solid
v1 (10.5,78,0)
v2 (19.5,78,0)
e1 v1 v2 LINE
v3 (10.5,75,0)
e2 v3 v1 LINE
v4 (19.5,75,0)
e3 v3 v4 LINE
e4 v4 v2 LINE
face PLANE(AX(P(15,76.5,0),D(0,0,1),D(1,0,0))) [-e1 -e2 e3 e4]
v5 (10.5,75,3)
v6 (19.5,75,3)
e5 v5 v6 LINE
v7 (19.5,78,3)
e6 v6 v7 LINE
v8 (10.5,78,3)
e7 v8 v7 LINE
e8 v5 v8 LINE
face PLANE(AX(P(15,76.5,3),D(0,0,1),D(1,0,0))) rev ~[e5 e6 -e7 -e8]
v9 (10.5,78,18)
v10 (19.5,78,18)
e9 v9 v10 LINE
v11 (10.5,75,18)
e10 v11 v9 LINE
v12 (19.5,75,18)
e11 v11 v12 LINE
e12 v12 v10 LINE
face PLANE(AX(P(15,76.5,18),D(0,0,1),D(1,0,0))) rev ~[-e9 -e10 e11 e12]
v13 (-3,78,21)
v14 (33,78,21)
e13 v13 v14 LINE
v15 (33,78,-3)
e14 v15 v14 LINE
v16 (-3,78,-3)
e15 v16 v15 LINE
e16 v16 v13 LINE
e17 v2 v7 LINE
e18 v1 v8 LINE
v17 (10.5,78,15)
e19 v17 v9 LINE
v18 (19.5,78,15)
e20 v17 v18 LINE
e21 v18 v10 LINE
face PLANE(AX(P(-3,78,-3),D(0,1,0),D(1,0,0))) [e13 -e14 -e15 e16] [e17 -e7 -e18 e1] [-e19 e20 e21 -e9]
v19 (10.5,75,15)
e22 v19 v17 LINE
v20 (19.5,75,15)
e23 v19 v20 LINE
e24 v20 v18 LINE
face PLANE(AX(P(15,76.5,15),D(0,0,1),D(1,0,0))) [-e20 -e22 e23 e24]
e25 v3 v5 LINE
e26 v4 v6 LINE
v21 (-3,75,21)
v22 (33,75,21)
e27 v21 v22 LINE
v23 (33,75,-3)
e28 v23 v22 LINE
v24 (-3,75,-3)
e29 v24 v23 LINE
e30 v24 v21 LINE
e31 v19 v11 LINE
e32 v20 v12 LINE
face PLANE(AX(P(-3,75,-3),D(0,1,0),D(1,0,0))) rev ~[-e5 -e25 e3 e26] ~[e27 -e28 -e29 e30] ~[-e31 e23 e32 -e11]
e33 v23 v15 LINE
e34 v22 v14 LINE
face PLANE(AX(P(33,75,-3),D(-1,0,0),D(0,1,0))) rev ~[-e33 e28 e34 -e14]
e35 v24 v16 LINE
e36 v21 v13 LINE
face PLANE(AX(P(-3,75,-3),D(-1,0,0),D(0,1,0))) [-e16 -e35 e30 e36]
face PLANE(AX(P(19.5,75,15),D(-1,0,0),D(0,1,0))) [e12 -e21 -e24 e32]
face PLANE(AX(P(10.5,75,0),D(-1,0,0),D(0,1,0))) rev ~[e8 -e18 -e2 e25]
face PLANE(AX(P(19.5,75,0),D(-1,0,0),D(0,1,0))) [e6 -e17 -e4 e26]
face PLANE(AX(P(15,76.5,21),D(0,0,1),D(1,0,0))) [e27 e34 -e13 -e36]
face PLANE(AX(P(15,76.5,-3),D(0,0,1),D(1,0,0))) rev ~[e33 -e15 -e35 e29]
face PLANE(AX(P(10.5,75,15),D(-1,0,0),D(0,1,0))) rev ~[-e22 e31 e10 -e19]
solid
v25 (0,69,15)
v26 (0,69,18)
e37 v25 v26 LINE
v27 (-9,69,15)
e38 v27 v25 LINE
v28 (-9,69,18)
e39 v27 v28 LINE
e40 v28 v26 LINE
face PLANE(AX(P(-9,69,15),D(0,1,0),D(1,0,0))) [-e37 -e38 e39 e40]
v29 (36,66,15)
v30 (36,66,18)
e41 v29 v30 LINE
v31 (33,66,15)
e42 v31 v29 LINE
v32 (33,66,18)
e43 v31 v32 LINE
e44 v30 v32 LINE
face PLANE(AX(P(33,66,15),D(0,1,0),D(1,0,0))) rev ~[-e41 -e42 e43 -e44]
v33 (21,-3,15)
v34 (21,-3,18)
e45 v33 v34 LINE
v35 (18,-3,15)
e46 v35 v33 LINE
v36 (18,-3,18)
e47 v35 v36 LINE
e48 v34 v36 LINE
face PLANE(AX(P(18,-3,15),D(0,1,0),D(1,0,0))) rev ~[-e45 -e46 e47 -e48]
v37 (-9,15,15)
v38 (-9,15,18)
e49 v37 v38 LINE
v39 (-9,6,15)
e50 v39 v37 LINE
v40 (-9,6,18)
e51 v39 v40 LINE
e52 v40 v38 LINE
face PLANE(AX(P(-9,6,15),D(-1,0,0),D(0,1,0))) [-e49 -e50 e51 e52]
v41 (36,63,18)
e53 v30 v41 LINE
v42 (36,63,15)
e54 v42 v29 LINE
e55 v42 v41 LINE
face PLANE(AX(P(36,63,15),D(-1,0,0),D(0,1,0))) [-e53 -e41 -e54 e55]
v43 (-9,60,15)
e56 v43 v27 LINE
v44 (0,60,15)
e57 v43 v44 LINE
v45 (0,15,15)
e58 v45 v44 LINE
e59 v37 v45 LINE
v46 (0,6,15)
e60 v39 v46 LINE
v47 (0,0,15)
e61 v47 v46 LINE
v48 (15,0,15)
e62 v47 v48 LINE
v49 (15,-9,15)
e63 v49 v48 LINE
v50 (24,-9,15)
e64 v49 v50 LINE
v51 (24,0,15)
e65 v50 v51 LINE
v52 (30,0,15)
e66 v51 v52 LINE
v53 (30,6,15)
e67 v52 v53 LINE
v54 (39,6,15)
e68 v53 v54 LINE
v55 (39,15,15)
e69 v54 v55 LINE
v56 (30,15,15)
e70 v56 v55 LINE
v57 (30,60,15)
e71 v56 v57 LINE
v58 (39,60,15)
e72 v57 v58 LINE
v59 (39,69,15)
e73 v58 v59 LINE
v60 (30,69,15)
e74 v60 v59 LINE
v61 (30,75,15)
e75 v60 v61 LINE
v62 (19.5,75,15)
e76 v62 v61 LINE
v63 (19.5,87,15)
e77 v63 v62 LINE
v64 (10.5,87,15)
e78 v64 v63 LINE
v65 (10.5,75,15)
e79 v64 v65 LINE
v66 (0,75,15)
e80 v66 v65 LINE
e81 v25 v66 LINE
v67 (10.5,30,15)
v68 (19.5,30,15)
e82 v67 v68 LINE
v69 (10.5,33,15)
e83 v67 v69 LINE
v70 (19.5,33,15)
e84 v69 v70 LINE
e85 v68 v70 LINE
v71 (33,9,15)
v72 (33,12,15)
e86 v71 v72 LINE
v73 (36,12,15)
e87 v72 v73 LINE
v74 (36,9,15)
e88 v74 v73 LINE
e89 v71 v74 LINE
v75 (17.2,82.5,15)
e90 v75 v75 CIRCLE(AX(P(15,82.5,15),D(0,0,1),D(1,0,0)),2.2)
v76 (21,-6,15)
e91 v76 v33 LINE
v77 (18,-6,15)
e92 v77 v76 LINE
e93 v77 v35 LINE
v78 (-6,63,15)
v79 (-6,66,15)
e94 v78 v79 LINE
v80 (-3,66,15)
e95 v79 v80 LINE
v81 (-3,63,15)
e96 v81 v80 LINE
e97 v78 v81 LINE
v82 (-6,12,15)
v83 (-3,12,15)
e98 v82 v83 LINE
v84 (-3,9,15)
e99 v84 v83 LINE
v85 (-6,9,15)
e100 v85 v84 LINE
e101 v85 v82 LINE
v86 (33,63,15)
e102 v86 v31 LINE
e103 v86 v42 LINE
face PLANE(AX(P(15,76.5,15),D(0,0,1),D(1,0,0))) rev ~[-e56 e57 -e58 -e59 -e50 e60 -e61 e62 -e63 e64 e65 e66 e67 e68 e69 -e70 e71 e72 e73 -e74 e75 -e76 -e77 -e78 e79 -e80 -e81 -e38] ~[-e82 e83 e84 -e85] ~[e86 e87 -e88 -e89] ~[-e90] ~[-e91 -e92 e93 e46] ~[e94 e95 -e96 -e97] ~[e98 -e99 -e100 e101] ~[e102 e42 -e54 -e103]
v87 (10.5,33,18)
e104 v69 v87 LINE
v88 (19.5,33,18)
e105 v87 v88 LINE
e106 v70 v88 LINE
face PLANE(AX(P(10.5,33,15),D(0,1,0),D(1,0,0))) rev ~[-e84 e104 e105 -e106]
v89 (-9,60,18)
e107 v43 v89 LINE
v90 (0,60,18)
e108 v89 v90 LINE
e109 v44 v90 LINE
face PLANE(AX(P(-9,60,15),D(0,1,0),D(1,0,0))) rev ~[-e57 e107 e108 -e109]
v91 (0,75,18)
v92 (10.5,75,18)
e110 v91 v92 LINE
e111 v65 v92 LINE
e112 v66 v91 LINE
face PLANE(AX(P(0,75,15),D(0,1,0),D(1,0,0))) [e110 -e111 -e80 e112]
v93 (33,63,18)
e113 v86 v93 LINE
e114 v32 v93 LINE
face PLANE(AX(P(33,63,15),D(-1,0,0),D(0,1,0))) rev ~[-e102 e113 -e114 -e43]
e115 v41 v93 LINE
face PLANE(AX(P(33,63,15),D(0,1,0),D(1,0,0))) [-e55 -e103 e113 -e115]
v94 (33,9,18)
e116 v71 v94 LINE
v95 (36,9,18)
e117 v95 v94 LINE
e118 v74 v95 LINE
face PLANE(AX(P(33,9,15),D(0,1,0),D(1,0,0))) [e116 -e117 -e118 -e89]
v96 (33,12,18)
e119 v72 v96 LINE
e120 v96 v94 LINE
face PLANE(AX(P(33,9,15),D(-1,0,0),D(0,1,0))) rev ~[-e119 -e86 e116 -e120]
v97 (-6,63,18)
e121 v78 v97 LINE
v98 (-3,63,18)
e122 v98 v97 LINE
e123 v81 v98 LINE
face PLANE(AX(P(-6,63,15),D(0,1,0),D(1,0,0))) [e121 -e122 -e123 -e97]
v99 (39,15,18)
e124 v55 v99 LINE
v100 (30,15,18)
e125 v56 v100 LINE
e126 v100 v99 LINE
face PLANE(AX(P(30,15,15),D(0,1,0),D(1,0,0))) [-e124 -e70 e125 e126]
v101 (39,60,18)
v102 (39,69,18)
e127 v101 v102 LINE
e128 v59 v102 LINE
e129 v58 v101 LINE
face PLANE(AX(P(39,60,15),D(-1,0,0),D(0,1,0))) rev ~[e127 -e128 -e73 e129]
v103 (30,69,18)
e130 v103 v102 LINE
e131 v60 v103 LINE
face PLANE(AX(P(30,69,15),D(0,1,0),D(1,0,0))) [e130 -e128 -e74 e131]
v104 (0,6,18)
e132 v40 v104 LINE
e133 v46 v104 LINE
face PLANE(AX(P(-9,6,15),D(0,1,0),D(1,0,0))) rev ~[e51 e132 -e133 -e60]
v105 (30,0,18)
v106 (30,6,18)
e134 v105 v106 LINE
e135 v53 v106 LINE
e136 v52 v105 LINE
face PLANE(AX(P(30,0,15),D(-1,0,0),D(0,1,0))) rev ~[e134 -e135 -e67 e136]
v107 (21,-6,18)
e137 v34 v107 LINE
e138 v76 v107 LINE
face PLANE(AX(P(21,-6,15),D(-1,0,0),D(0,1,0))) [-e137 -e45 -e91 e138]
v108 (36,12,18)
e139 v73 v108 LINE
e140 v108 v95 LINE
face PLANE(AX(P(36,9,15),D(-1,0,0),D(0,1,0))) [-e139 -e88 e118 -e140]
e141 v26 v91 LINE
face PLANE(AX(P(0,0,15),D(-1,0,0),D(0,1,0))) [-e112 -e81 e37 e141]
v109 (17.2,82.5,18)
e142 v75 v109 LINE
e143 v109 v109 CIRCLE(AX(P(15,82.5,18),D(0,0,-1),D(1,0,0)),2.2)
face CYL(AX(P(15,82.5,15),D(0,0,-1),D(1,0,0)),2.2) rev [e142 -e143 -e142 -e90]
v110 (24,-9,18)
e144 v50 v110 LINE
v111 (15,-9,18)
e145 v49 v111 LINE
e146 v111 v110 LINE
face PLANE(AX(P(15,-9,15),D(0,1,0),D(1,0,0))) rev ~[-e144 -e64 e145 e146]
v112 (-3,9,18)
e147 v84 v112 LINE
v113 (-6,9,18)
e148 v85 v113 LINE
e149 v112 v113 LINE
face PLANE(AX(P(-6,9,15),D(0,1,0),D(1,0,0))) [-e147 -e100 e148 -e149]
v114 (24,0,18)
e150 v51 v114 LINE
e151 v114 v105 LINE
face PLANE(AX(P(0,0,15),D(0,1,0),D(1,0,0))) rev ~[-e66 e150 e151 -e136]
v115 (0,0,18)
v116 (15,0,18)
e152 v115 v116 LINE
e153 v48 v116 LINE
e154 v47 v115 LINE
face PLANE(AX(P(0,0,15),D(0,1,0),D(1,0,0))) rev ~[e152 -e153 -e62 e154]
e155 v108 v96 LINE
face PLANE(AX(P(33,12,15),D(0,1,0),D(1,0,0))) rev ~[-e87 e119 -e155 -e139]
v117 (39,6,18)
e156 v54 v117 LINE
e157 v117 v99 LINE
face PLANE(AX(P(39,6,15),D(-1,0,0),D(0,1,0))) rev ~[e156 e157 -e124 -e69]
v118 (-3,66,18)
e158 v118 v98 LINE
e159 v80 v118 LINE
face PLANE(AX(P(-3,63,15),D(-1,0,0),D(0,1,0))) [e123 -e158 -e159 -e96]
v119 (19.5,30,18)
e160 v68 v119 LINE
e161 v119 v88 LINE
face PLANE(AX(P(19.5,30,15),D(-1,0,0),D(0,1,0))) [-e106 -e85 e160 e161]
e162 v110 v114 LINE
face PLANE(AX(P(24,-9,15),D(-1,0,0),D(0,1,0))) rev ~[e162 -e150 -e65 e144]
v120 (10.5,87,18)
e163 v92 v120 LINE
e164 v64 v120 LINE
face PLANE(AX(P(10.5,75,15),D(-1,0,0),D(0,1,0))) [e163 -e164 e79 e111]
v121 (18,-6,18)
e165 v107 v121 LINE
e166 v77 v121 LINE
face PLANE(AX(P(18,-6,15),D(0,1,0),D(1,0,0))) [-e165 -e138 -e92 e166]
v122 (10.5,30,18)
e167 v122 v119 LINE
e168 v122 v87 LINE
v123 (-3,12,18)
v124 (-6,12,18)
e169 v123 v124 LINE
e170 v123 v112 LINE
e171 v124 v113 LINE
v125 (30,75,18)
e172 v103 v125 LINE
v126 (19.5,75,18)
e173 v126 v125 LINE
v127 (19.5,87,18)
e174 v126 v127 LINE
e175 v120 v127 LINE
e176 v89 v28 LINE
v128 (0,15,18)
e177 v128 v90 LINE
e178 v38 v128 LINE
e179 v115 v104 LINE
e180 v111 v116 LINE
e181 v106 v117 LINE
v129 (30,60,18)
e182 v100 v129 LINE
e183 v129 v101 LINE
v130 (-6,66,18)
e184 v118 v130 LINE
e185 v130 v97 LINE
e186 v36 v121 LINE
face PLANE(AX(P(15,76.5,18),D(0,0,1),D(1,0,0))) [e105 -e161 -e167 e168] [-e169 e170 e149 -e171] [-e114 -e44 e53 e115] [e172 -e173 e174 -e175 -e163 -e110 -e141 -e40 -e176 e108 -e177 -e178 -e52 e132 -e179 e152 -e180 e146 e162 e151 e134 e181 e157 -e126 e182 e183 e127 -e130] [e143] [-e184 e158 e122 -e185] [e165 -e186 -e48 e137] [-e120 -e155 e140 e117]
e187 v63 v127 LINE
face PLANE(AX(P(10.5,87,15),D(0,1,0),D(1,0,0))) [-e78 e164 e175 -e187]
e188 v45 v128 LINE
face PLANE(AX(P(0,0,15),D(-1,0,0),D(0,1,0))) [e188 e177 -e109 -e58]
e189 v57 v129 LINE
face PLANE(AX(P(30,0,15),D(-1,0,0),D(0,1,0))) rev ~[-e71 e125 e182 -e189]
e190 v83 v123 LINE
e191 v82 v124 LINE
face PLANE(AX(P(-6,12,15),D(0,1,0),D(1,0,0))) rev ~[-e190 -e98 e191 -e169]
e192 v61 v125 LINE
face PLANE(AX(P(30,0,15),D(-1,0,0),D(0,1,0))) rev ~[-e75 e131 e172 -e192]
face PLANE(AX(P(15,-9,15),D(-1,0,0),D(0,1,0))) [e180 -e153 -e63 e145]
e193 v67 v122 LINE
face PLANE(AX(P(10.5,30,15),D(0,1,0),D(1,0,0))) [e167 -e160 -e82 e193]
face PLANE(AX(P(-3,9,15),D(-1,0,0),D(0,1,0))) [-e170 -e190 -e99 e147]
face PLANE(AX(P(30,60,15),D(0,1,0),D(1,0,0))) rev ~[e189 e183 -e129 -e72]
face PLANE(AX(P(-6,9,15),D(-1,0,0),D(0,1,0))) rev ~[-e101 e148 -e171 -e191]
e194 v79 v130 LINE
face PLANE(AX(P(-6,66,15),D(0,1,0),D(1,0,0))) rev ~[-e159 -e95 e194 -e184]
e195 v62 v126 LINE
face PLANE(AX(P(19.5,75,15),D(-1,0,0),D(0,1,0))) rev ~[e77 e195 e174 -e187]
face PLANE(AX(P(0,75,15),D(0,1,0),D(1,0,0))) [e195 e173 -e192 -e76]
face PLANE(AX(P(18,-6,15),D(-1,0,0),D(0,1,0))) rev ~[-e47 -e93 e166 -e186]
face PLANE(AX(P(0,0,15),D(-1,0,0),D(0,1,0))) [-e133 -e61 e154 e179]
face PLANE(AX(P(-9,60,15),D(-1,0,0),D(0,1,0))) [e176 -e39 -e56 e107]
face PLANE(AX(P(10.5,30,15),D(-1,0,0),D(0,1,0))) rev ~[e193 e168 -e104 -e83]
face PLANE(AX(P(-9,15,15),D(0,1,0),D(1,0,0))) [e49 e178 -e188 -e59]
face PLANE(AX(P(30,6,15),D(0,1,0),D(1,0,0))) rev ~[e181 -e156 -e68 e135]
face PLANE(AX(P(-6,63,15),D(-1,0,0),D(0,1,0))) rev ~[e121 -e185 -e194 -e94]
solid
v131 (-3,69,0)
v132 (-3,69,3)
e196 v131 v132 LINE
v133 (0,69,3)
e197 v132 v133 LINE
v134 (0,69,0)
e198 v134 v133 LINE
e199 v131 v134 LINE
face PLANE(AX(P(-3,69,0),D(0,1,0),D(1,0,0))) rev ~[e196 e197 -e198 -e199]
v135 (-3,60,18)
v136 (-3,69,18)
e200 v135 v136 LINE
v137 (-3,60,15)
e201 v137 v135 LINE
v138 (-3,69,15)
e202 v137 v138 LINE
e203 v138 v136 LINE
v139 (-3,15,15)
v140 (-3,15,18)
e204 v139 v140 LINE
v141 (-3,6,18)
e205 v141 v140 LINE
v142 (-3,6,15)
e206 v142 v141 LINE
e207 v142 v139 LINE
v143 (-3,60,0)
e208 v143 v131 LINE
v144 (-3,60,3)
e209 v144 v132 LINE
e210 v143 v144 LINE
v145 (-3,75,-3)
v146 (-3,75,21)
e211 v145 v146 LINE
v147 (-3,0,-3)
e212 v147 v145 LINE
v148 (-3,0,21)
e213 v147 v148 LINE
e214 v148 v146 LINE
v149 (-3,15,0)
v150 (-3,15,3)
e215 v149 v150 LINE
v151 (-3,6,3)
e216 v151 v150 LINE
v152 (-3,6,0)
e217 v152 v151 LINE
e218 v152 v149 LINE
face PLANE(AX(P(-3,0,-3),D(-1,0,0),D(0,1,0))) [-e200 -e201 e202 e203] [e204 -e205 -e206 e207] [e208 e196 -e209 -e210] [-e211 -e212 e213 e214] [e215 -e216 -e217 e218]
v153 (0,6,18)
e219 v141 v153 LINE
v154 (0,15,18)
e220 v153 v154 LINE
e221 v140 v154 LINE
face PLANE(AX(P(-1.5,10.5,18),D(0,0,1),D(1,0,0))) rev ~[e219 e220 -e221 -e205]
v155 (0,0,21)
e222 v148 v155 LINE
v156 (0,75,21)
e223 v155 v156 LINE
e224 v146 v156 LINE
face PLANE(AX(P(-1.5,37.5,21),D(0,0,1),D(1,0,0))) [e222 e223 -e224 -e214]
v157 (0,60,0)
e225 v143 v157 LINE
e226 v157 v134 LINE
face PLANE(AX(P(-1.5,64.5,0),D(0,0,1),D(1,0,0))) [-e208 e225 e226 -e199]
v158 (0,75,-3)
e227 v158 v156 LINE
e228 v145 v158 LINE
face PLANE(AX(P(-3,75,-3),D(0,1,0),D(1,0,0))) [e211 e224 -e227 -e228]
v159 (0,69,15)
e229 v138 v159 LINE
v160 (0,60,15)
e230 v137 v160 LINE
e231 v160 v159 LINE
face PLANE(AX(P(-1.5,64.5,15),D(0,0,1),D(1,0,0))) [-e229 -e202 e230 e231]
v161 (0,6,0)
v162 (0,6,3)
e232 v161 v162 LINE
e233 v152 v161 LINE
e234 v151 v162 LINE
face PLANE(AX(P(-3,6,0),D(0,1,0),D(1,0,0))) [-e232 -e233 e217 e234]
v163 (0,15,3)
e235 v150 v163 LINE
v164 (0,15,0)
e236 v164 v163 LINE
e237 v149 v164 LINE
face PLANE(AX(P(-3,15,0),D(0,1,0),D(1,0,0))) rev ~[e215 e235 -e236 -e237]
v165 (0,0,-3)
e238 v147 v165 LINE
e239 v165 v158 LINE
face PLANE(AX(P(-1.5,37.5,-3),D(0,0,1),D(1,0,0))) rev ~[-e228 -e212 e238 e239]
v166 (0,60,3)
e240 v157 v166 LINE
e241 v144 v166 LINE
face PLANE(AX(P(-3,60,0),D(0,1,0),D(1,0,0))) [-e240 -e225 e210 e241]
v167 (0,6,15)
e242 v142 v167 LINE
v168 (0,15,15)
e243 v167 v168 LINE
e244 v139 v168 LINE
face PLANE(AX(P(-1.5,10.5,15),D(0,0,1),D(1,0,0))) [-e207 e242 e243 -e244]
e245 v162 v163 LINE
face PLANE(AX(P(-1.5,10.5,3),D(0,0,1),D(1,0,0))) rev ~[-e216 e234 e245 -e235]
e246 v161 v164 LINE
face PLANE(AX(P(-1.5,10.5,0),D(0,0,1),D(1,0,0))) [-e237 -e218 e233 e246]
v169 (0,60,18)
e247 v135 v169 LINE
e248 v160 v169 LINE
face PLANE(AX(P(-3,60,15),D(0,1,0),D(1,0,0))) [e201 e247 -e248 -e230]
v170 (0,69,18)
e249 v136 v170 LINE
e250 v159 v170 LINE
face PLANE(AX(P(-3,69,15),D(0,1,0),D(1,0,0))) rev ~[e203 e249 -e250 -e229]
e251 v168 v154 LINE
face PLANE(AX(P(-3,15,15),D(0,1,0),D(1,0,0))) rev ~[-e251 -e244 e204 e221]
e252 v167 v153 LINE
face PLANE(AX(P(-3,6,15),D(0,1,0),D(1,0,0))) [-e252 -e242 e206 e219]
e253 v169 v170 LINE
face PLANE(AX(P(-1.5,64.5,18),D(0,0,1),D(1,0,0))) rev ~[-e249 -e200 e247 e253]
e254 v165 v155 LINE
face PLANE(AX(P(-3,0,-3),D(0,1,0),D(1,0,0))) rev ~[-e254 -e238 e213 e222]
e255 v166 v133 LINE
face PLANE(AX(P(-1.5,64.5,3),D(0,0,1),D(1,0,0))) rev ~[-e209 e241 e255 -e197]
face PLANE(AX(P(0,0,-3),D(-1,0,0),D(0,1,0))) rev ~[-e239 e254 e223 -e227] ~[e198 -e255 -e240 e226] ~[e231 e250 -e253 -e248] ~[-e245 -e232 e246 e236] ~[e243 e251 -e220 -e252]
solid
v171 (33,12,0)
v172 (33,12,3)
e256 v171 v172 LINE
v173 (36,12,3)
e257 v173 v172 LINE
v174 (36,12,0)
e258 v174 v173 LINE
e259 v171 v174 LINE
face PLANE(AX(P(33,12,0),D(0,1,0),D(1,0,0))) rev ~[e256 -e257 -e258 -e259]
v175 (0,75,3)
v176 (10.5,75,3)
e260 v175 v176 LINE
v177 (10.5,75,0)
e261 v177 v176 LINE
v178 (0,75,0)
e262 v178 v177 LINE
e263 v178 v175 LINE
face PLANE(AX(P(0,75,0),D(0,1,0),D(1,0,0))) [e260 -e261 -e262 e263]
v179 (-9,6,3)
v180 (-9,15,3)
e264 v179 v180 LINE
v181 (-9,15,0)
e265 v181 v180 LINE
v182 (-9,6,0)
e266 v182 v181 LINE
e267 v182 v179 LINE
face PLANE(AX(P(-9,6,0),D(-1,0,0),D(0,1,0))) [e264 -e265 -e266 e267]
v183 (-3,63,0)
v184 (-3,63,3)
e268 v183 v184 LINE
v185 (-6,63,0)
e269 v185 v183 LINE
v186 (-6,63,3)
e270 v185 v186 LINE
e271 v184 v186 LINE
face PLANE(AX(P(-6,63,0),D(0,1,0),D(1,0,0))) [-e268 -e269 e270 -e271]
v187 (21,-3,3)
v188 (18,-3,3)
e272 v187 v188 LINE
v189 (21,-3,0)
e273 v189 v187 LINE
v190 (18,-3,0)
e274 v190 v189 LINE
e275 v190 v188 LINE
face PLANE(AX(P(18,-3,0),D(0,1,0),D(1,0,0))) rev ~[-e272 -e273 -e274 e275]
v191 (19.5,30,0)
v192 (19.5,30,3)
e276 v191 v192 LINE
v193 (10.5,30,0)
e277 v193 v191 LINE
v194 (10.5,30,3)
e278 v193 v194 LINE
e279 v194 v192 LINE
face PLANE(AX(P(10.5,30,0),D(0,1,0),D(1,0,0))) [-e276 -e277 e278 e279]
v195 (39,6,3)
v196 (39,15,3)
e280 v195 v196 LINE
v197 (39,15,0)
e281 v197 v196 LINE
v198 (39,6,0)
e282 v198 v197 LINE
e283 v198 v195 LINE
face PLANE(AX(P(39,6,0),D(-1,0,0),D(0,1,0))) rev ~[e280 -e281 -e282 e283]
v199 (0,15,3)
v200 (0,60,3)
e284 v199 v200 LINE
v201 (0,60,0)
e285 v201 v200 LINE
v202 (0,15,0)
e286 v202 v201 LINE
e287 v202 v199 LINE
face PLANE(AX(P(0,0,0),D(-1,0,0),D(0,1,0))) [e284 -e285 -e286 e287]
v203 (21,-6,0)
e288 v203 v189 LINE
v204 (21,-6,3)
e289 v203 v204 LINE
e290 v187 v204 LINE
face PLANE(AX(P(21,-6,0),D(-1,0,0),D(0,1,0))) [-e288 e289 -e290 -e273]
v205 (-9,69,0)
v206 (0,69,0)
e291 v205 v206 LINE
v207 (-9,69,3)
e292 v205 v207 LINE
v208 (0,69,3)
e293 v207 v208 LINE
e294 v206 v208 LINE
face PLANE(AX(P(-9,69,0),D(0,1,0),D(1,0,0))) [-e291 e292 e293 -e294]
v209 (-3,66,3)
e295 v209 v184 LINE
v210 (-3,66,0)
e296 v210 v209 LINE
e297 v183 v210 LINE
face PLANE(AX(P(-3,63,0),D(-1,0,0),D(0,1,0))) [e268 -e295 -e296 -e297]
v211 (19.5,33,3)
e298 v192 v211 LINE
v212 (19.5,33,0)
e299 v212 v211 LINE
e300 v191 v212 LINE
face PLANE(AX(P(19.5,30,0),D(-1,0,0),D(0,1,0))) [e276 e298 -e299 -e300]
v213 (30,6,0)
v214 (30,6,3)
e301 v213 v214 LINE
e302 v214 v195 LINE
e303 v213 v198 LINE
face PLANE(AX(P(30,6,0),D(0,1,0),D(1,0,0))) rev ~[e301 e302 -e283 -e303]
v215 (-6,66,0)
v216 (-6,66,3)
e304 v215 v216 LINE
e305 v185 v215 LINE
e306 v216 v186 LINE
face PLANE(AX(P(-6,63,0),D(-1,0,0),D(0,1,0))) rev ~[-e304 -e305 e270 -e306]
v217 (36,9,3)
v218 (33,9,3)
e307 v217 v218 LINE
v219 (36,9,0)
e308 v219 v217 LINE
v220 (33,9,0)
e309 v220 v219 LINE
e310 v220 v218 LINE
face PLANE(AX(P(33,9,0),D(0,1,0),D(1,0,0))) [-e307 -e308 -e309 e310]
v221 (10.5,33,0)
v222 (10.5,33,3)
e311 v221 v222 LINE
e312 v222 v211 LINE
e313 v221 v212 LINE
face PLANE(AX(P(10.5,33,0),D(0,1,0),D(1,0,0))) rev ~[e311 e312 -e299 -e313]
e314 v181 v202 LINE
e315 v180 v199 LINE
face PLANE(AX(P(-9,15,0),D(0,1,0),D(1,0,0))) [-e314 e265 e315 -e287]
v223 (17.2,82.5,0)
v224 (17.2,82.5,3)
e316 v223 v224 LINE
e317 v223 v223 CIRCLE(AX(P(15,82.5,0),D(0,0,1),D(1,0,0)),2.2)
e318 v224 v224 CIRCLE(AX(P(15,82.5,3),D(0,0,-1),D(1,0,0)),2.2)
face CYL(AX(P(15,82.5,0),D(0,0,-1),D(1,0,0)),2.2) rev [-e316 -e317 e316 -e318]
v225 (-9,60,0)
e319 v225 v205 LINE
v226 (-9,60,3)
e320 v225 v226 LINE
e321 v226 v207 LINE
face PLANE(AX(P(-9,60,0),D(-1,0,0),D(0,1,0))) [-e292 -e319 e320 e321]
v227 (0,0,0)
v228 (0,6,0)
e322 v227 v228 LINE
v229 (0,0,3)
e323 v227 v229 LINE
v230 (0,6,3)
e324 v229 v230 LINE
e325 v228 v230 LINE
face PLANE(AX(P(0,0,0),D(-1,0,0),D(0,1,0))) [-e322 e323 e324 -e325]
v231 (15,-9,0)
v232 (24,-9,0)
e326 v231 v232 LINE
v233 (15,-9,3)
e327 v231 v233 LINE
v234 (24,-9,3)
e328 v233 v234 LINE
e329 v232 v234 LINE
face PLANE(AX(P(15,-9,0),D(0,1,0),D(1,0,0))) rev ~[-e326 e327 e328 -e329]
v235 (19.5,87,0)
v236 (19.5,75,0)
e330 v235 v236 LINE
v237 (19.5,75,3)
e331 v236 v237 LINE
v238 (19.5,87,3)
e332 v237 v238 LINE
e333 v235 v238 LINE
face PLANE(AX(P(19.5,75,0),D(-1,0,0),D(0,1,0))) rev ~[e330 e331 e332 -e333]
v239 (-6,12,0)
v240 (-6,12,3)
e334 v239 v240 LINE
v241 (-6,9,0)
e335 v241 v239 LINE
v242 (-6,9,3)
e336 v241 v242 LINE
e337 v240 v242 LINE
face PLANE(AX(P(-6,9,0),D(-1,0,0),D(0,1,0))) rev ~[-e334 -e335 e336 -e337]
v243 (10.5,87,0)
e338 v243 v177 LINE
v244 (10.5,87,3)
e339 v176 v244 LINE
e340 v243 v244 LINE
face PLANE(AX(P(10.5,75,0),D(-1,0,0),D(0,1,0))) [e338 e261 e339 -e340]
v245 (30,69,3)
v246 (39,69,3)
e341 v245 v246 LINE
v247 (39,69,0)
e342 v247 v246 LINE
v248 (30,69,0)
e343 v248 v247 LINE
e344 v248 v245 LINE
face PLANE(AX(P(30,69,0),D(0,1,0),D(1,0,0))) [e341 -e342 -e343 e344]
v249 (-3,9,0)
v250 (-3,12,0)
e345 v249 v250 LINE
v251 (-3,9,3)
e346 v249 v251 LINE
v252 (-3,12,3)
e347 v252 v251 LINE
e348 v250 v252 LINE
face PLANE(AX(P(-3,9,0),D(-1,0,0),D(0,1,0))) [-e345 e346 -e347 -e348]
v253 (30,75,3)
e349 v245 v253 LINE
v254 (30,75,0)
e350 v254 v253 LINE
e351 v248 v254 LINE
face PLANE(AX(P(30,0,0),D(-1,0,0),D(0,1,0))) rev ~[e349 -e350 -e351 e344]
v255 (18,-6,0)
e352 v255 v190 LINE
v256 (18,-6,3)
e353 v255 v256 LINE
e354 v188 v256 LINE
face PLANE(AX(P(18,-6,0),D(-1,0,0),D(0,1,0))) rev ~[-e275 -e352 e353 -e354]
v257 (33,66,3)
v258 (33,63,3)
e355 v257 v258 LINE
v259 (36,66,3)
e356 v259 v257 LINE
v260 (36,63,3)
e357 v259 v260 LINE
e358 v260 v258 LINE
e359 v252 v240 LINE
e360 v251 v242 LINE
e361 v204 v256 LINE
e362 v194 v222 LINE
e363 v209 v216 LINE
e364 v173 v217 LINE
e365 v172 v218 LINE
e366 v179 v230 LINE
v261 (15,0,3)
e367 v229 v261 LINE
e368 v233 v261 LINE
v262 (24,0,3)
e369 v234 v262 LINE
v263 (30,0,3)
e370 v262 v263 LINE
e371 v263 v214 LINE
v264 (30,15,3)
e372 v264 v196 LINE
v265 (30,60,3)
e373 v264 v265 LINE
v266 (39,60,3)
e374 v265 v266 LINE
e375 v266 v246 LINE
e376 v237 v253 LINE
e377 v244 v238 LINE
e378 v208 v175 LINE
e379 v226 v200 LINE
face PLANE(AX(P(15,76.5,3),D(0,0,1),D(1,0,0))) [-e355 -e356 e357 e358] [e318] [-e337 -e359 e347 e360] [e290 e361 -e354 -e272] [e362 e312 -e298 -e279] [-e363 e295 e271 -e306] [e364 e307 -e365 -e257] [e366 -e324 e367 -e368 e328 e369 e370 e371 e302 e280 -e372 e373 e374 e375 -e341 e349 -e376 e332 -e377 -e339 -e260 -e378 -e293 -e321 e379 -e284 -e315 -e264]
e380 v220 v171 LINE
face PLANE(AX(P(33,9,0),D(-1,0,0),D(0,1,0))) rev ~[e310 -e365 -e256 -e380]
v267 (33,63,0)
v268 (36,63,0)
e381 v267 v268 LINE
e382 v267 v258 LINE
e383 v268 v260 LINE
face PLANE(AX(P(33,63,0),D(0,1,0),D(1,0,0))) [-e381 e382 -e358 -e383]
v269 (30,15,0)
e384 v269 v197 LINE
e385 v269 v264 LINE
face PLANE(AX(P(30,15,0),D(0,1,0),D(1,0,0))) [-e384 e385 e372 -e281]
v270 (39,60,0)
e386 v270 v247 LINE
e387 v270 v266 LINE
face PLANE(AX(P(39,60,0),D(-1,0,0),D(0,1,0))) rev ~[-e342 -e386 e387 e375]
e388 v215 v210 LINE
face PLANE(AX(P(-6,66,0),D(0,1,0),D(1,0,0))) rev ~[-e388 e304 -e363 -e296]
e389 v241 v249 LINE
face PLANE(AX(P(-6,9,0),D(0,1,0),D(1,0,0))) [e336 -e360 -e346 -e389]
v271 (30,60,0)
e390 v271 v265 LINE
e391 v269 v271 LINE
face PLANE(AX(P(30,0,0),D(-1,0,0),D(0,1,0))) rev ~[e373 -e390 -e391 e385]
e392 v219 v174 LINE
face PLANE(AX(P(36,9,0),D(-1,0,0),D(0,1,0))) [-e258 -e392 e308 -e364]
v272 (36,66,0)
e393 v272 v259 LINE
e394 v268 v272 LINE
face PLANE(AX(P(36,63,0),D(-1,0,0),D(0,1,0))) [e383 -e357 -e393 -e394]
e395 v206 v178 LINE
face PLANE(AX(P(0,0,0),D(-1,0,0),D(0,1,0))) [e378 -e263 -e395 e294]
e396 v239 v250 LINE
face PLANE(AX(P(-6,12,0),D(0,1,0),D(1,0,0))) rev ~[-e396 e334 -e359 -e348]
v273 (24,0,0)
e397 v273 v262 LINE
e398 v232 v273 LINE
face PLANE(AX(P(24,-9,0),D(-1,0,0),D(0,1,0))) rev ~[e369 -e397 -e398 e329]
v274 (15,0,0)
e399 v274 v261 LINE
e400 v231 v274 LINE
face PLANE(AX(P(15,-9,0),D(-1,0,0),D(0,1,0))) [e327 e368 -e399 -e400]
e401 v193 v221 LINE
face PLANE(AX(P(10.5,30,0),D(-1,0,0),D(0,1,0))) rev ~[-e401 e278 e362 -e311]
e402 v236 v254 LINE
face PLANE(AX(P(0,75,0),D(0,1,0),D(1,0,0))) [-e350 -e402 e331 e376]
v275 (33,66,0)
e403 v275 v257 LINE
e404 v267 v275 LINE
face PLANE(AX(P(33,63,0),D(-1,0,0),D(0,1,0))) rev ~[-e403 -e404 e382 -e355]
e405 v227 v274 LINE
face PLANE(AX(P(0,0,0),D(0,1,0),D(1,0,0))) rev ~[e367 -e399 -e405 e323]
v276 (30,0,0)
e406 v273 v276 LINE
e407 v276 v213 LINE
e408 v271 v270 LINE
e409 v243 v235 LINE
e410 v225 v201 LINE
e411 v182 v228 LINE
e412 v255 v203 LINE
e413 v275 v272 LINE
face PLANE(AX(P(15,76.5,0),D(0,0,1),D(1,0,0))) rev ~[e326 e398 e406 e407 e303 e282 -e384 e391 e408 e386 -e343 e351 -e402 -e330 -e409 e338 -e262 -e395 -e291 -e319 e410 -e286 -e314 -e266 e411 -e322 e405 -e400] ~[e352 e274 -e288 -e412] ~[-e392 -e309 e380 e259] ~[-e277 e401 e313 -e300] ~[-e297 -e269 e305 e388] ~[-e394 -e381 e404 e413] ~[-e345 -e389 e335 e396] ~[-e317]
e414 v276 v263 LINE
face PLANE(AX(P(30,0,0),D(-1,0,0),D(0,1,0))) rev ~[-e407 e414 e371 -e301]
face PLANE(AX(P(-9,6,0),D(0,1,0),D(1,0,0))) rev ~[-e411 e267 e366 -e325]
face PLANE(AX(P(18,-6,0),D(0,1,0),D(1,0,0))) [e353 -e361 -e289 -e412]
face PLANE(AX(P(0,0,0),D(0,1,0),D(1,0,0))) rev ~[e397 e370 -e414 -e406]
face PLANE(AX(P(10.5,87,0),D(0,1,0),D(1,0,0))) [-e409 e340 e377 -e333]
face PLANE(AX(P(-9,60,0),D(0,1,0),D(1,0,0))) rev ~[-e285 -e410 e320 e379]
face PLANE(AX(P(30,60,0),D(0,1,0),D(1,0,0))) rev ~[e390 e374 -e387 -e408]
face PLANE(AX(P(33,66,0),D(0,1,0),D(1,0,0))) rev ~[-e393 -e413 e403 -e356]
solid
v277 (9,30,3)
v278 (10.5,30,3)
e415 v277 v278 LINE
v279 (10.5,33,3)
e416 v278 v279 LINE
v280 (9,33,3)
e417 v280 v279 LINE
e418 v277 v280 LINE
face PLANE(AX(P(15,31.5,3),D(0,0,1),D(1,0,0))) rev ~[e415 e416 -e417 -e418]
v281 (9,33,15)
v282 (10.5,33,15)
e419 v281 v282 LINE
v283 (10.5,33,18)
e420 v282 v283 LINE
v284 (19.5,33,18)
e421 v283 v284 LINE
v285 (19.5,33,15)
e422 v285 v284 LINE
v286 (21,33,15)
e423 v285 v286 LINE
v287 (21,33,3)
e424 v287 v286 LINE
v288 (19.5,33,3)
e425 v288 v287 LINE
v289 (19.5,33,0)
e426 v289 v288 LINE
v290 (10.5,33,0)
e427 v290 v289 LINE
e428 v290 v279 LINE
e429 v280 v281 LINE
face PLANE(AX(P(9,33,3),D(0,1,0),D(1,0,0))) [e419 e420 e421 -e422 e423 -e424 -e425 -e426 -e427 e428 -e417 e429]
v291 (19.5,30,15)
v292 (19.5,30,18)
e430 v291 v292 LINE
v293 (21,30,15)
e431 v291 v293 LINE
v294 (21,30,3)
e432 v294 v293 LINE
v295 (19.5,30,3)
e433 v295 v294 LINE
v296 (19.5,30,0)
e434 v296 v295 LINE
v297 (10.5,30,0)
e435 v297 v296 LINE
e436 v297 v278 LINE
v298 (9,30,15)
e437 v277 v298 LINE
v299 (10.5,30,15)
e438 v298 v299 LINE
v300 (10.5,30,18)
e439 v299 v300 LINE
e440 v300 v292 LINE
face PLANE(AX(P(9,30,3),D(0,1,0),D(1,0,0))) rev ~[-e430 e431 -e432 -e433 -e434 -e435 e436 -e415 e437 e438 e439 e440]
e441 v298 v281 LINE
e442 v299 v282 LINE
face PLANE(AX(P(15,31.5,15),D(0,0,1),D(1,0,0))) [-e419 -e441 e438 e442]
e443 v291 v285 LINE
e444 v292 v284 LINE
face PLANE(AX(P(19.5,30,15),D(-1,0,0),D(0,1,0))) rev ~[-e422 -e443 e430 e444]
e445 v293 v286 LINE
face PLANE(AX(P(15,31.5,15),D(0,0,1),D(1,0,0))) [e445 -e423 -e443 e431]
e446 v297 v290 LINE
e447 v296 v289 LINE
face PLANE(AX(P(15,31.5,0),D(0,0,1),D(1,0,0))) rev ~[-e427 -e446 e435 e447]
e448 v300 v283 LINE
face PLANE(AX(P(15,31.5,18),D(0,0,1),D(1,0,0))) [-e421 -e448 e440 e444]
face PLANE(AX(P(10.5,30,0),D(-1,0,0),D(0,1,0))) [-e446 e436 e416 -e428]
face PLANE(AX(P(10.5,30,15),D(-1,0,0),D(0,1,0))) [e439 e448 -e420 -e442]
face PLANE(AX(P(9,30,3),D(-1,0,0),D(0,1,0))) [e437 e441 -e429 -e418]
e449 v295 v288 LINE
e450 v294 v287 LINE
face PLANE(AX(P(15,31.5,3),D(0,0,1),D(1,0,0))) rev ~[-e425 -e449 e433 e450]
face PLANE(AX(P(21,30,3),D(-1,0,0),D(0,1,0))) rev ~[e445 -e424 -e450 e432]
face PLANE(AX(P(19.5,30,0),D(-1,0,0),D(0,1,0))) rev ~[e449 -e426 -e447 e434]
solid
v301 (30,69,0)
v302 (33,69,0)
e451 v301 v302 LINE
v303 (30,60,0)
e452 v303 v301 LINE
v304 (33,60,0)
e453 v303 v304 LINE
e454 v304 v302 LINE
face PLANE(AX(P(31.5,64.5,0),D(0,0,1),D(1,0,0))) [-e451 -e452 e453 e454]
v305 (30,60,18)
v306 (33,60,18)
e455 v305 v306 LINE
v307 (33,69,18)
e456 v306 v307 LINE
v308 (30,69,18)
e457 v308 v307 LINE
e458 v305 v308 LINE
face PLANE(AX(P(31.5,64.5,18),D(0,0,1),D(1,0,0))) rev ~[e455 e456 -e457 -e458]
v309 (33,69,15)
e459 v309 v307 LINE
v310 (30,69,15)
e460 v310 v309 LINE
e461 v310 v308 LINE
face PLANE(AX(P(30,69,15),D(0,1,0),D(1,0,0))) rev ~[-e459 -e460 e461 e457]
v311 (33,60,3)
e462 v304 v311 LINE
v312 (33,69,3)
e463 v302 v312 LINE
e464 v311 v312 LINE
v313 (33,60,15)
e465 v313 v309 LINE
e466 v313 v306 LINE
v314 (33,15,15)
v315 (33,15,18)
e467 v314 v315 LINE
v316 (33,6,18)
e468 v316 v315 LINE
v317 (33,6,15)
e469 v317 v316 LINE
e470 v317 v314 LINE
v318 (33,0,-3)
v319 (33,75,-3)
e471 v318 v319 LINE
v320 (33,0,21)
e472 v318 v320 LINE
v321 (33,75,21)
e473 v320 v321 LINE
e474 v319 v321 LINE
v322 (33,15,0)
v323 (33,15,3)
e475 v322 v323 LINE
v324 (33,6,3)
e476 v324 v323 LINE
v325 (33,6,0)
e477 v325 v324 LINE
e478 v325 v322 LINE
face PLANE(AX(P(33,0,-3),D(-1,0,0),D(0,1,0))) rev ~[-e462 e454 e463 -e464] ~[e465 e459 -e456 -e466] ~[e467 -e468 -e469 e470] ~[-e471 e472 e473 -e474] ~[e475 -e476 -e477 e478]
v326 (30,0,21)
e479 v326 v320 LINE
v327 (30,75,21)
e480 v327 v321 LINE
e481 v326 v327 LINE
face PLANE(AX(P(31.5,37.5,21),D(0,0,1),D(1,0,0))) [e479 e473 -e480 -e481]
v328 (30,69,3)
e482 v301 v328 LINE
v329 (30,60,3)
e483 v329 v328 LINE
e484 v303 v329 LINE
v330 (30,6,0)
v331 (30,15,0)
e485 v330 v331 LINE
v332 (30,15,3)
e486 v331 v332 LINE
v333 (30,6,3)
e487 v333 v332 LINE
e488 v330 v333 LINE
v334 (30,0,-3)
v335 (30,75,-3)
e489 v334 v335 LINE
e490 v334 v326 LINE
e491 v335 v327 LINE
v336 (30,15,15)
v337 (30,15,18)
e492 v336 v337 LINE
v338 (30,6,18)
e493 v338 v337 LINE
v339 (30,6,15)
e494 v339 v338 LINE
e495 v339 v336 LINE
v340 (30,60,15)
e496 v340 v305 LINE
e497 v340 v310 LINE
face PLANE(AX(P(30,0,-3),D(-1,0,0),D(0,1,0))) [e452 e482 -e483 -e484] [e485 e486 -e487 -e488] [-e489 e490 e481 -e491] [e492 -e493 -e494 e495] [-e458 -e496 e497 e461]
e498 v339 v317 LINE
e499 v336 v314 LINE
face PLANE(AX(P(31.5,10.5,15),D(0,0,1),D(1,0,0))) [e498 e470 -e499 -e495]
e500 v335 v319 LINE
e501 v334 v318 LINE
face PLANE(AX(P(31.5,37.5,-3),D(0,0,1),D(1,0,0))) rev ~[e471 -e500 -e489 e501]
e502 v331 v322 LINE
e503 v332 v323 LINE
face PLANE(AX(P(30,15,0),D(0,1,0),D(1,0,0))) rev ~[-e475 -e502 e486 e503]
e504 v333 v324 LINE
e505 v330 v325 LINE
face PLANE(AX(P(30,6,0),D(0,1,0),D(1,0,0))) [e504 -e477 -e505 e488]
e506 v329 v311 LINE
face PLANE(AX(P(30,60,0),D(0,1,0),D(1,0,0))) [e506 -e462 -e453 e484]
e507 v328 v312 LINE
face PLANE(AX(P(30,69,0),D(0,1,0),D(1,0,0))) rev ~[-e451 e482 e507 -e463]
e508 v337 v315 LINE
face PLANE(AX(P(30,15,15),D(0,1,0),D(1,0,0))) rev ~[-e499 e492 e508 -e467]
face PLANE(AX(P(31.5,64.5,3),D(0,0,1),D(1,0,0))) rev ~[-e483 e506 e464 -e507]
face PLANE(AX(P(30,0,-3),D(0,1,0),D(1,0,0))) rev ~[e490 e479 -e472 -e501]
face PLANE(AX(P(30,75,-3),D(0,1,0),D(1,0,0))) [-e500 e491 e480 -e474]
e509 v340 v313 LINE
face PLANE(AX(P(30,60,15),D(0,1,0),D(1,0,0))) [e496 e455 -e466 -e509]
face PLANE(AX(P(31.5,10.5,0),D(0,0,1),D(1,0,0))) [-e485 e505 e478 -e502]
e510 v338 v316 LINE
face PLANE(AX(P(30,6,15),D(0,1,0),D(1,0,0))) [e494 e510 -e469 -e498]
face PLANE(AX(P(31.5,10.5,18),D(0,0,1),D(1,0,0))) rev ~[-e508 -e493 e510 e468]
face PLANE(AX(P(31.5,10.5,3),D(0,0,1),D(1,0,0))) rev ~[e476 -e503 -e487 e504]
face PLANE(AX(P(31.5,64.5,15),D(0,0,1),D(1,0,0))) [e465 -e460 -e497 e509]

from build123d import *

# Parameters (mm, degrees)
BOX_W             = 12
BOX_H             = 3
BOX_DEPTH         = 12
BOX111_W          = 9
BOX111_H          = 3
BOX111_DEPTH      = 3
BOX112_W          = 9
BOX112_H          = 3
BOX112_DEPTH      = 3
BOX125_W          = 9
BOX125_H          = 3
BOX125_DEPTH      = 3
BOX123_W          = 9
BOX123_H          = 3
BOX123_DEPTH      = 3
BOX124_W          = 36
BOX124_H          = 3
BOX124_DEPTH      = 24
BOX126_W          = 9
BOX126_H          = 3
BOX126_DEPTH      = 3
BOX084_W          = 3
BOX084_H          = 3
BOX084_DEPTH      = 4
BOX083_W          = 9
BOX083_H          = 9
BOX083_DEPTH      = 3
BOX086_W          = 3
BOX086_H          = 3
BOX086_DEPTH      = 4
BOX085_W          = 9
BOX085_H          = 9
BOX085_DEPTH      = 3
BOX088_W          = 3
BOX088_H          = 3
BOX088_DEPTH      = 4
BOX087_W          = 9
BOX087_H          = 9
BOX087_DEPTH      = 3
BOX004_W          = 3
BOX004_H          = 3
BOX004_DEPTH      = 4
BOX003_W          = 9
BOX003_H          = 9
BOX003_DEPTH      = 3
BOX005_W          = 9
BOX005_H          = 3
BOX005_DEPTH      = 3
BOX082_W          = 30
BOX082_H          = 75
BOX082_DEPTH      = 3
BOX002_W          = 3
BOX002_H          = 3
BOX002_DEPTH      = 4
BOX001_W          = 9
BOX001_H          = 9
BOX001_DEPTH      = 3
CYLINDER027_R     = 2.2
CYLINDER027_DEPTH = 10
BOX006_W          = 9
BOX006_H          = 9
BOX006_DEPTH      = 3
BOX113_W          = 3
BOX113_H          = 9
BOX113_DEPTH      = 3
BOX114_W          = 3
BOX114_H          = 9
BOX114_DEPTH      = 3
BOX115_W          = 3
BOX115_H          = 9
BOX115_DEPTH      = 3
BOX116_W          = 3
BOX116_H          = 9
BOX116_DEPTH      = 3
BOX117_W          = 3
BOX117_H          = 75
BOX117_DEPTH      = 24
BOX127_W          = 3
BOX127_H          = 9
BOX127_DEPTH      = 3
BOX128_W          = 3
BOX128_H          = 9
BOX128_DEPTH      = 3
BOX129_W          = 3
BOX129_H          = 9
BOX129_DEPTH      = 3
BOX130_W          = 3
BOX130_H          = 9
BOX130_DEPTH      = 3
BOX131_W          = 3
BOX131_H          = 75
BOX131_DEPTH      = 24
BOX145_W          = 9
BOX145_H          = 3
BOX145_DEPTH      = 3
BOX140_W          = 3
BOX140_H          = 3
BOX140_DEPTH      = 4
BOX139_W          = 9
BOX139_H          = 9
BOX139_DEPTH      = 3
BOX142_W          = 3
BOX142_H          = 3
BOX142_DEPTH      = 4
BOX141_W          = 9
BOX141_H          = 9
BOX141_DEPTH      = 3
BOX144_W          = 3
BOX144_H          = 3
BOX144_DEPTH      = 4
BOX143_W          = 9
BOX143_H          = 9
BOX143_DEPTH      = 3
BOX136_W          = 3
BOX136_H          = 3
BOX136_DEPTH      = 4
BOX135_W          = 9
BOX135_H          = 9
BOX135_DEPTH      = 3
BOX137_W          = 9
BOX137_H          = 3
BOX137_DEPTH      = 3
BOX132_W          = 30
BOX132_H          = 75
BOX132_DEPTH      = 3
BOX134_W          = 3
BOX134_H          = 3
BOX134_DEPTH      = 4
BOX133_W          = 9
BOX133_H          = 9
BOX133_DEPTH      = 3
CYLINDER028_R     = 2.2
CYLINDER028_DEPTH = 10
BOX138_W          = 9
BOX138_H          = 9
BOX138_DEPTH      = 3


with BuildPart() as cube:
    # Box → Box (new body)
    with BuildSketch(Plane(origin=(-0.5, 12, 3), x_dir=(1, 0, 0), z_dir=(0, 0, 1))):
        with Locations((6, 1.5)):
            Rectangle(BOX_W, BOX_H)
    extrude(amount=BOX_DEPTH)


with BuildPart() as cube033:
    # Box111 → Box111 (new body)
    with BuildSketch(Plane(origin=(1, 12, 15), x_dir=(1, 0, 0), z_dir=(0, 0, 1))):
        with Locations((4.5, 1.5)):
            Rectangle(BOX111_W, BOX111_H)
    extrude(amount=BOX111_DEPTH)


with BuildPart() as turretpitchholderdistant:
    # Box112 → Box112 (new body)
    with BuildSketch(Plane(origin=(1, 12, 0), x_dir=(1, 0, 0), z_dir=(0, 0, 1))):
        with Locations((4.5, 1.5)):
            Rectangle(BOX112_W, BOX112_H)
    extrude(amount=BOX112_DEPTH)

    # Fusion030: union Cube, Cube033
    add(cube.part)
    add(cube033.part)


with BuildPart() as turretpitchholderdistant_1:
    # Fusion030 placement: moved
    add(turretpitchholderdistant.part.moved(Location((9.5, 18, 0))))


with BuildPart() as cube047:
    # Box125 → Box125 (new body)
    with BuildSketch(Plane(origin=(10.5, -3, 15), x_dir=(1, 0, 0), z_dir=(0, 0, 1))):
        with Locations((4.5, 1.5)):
            Rectangle(BOX125_W, BOX125_H)
    extrude(amount=BOX125_DEPTH)


with BuildPart() as cube045:
    # Box123 → Box123 (new body)
    with BuildSketch(Plane(origin=(10.5, -3, 0), x_dir=(1, 0, 0), z_dir=(0, 0, 1))):
        with Locations((4.5, 1.5)):
            Rectangle(BOX123_W, BOX123_H)
    extrude(amount=BOX123_DEPTH)


with BuildPart() as turretpitchholdertopplate:
    # Box124 → Box124 (new body)
    with BuildSketch(Plane(origin=(-3, -3, -3), x_dir=(1, 0, 0), z_dir=(0, 0, 1))):
        with Locations((18, 1.5)):
            Rectangle(BOX124_W, BOX124_H)
    extrude(amount=BOX124_DEPTH)

    # Cut052: cut Cube045
    add(cube045.part, mode=Mode.SUBTRACT)

    # Cut058: cut Cube047
    add(cube047.part, mode=Mode.SUBTRACT)


with BuildPart() as turretpitchholdertopplate_1:
    # Cut058 placement: moved
    add(turretpitchholdertopplate.part.moved(Location((0, 78, 0))))


with BuildPart() as cube048:
    # Box126 → Box126 (new body)
    with BuildSketch(Plane(origin=(10.5, 75, 0), x_dir=(1, 0, 0), z_dir=(0, 0, 1))):
        with Locations((4.5, 1.5)):
            Rectangle(BOX126_W, BOX126_H)
    extrude(amount=BOX126_DEPTH)


with BuildPart() as cube014:
    # Box084 → Box084 (new body)
    with BuildSketch(Plane(origin=(-6, 9, 0), x_dir=(1, 0, 0), z_dir=(0, 0, 1))):
        with Locations((1.5, 1.5)):
            Rectangle(BOX084_W, BOX084_H)
    extrude(amount=BOX084_DEPTH)


with BuildPart() as cut035:
    # Box083 → Box083 (new body)
    with BuildSketch(Plane(origin=(-9, 6, 0), x_dir=(1, 0, 0), z_dir=(0, 0, 1))):
        with Locations((4.5, 4.5)):
            Rectangle(BOX083_W, BOX083_H)
    extrude(amount=BOX083_DEPTH)

    # Cut035: cut Cube014
    add(cube014.part, mode=Mode.SUBTRACT)


with BuildPart() as cut035_1:
    # Cut035 placement: moved
    add(cut035.part.moved(Location((24, -15, 0))))


with BuildPart() as cube016:
    # Box086 → Box086 (new body)
    with BuildSketch(Plane(origin=(-6, 9, 0), x_dir=(1, 0, 0), z_dir=(0, 0, 1))):
        with Locations((1.5, 1.5)):
            Rectangle(BOX086_W, BOX086_H)
    extrude(amount=BOX086_DEPTH)


with BuildPart() as cut036:
    # Box085 → Box085 (new body)
    with BuildSketch(Plane(origin=(-9, 6, 0), x_dir=(1, 0, 0), z_dir=(0, 0, 1))):
        with Locations((4.5, 4.5)):
            Rectangle(BOX085_W, BOX085_H)
    extrude(amount=BOX085_DEPTH)

    # Cut036: cut Cube016
    add(cube016.part, mode=Mode.SUBTRACT)


with BuildPart() as cut036_1:
    # Cut036 placement: moved
    add(cut036.part.moved(Location((39, 54, 0))))


with BuildPart() as cube018:
    # Box088 → Box088 (new body)
    with BuildSketch(Plane(origin=(-6, 9, 0), x_dir=(1, 0, 0), z_dir=(0, 0, 1))):
        with Locations((1.5, 1.5)):
            Rectangle(BOX088_W, BOX088_H)
    extrude(amount=BOX088_DEPTH)


with BuildPart() as cut037:
    # Box087 → Box087 (new body)
    with BuildSketch(Plane(origin=(-9, 6, 0), x_dir=(1, 0, 0), z_dir=(0, 0, 1))):
        with Locations((4.5, 4.5)):
            Rectangle(BOX087_W, BOX087_H)
    extrude(amount=BOX087_DEPTH)

    # Cut037: cut Cube018
    add(cube018.part, mode=Mode.SUBTRACT)


with BuildPart() as cut037_1:
    # Cut037 placement: moved
    add(cut037.part.moved(Location((0, 54, 0))))


with BuildPart() as cube010:
    # Box004 → Box004 (new body)
    with BuildSketch(Plane(origin=(-6, 9, 0), x_dir=(1, 0, 0), z_dir=(0, 0, 1))):
        with Locations((1.5, 1.5)):
            Rectangle(BOX004_W, BOX004_H)
    extrude(amount=BOX004_DEPTH)


with BuildPart() as cut001:
    # Box003 → Box003 (new body)
    with BuildSketch(Plane(origin=(-9, 6, 0), x_dir=(1, 0, 0), z_dir=(0, 0, 1))):
        with Locations((4.5, 4.5)):
            Rectangle(BOX003_W, BOX003_H)
    extrude(amount=BOX003_DEPTH)

    # Cut001: cut Cube010
    add(cube010.part, mode=Mode.SUBTRACT)


with BuildPart() as cut001_1:
    # Cut001 placement: moved
    add(cut001.part.moved(Location((39, 0, 0))))


with BuildPart() as cube011:
    # Box005 → Box005 (new body)
    with BuildSketch(Plane(origin=(10.5, 30, 0), x_dir=(1, 0, 0), z_dir=(0, 0, 1))):
        with Locations((4.5, 1.5)):
            Rectangle(BOX005_W, BOX005_H)
    extrude(amount=BOX005_DEPTH)


with BuildPart() as cut002:
    # Box082 → Box082 (new body)
    with BuildSketch(Plane.XY):
        with Locations((15, 37.5)):
            Rectangle(BOX082_W, BOX082_H)
    extrude(amount=BOX082_DEPTH)

    # Cut002: cut Cube011
    add(cube011.part, mode=Mode.SUBTRACT)


with BuildPart() as cube008:
    # Box002 → Box002 (new body)
    with BuildSketch(Plane(origin=(-6, 9, 0), x_dir=(1, 0, 0), z_dir=(0, 0, 1))):
        with Locations((1.5, 1.5)):
            Rectangle(BOX002_W, BOX002_H)
    extrude(amount=BOX002_DEPTH)


with BuildPart() as fusion027:
    # Box001 → Box001 (new body)
    with BuildSketch(Plane(origin=(-9, 6, 0), x_dir=(1, 0, 0), z_dir=(0, 0, 1))):
        with Locations((4.5, 4.5)):
            Rectangle(BOX001_W, BOX001_H)
    extrude(amount=BOX001_DEPTH)

    # Cut034: cut Cube008
    add(cube008.part, mode=Mode.SUBTRACT)

    # Fusion027: union Cut001, Cut002
    add(cut001_1.part)
    add(cut002.part)


with BuildPart() as rotationhoie:
    # Cylinder027 → Cylinder027 (new body)
    with BuildSketch(Plane(origin=(15, 40.5, 0), x_dir=(1, 0, 0), z_dir=(0, 0, 1))):
        Circle(CYLINDER027_R)
    extrude(amount=CYLINDER027_DEPTH)


with BuildPart() as turretpitchholderside:
    # Box006 → Box006 (new body)
    with BuildSketch(Plane(origin=(10.5, 36, 0), x_dir=(1, 0, 0), z_dir=(0, 0, 1))):
        with Locations((4.5, 4.5)):
            Rectangle(BOX006_W, BOX006_H)
    extrude(amount=BOX006_DEPTH)

    # Cut003: cut RotationHoie
    add(rotationhoie.part, mode=Mode.SUBTRACT)


with BuildPart() as turretpitchholderside_1:
    # Cut003 placement: moved
    add(turretpitchholderside.part.moved(Location((0, 42, 0))))

    # Fusion: union Cut035, Cut036, Cut037, Fusion027
    add(cut035_1.part)
    add(cut036_1.part)
    add(cut037_1.part)
    add(fusion027.part)

    # Fusion031: union Cube048
    add(cube048.part)


with BuildPart() as cube035:
    # Box113 → Box113 (new body)
    with BuildSketch(Plane(origin=(30, 60, 0), x_dir=(1, 0, 0), z_dir=(0, 0, 1))):
        with Locations((1.5, 4.5)):
            Rectangle(BOX113_W, BOX113_H)
    extrude(amount=BOX113_DEPTH)


with BuildPart() as cube036:
    # Box114 → Box114 (new body)
    with BuildSketch(Plane(origin=(39, 6, 0), x_dir=(1, 0, 0), z_dir=(0, 0, 1))):
        with Locations((1.5, 4.5)):
            Rectangle(BOX114_W, BOX114_H)
    extrude(amount=BOX114_DEPTH)


with BuildPart() as cube037:
    # Box115 → Box115 (new body)
    with BuildSketch(Plane(origin=(39, 6, 15), x_dir=(1, 0, 0), z_dir=(0, 0, 1))):
        with Locations((1.5, 4.5)):
            Rectangle(BOX115_W, BOX115_H)
    extrude(amount=BOX115_DEPTH)


with BuildPart() as cube038:
    # Box116 → Box116 (new body)
    with BuildSketch(Plane(origin=(39, 60, 15), x_dir=(1, 0, 0), z_dir=(0, 0, 1))):
        with Locations((1.5, 4.5)):
            Rectangle(BOX116_W, BOX116_H)
    extrude(amount=BOX116_DEPTH)


with BuildPart() as turretpitchholdersideplate:
    # Box117 → Box117 (new body)
    with BuildSketch(Plane(origin=(39, 0, -3), x_dir=(1, 0, 0), z_dir=(0, 0, 1))):
        with Locations((1.5, 37.5)):
            Rectangle(BOX117_W, BOX117_H)
    extrude(amount=BOX117_DEPTH)

    # Cut: cut Cube038
    add(cube038.part, mode=Mode.SUBTRACT)

    # Cut045: cut Cube037
    add(cube037.part, mode=Mode.SUBTRACT)

    # Cut046: cut Cube036
    add(cube036.part, mode=Mode.SUBTRACT)

    # Cut047: cut Cube035
    add(cube035.part, mode=Mode.SUBTRACT)


with BuildPart() as turretpitchholdersideplate_1:
    # Cut047 placement: moved
    add(turretpitchholdersideplate.part.moved(Location((-9, 0, 0))))

    # Cut059: cut Cube035
    add(cube035.part, mode=Mode.SUBTRACT)


with BuildPart() as cube049:
    # Box127 → Box127 (new body)
    with BuildSketch(Plane(origin=(30, 60, 0), x_dir=(1, 0, 0), z_dir=(0, 0, 1))):
        with Locations((1.5, 4.5)):
            Rectangle(BOX127_W, BOX127_H)
    extrude(amount=BOX127_DEPTH)


with BuildPart() as cube050:
    # Box128 → Box128 (new body)
    with BuildSketch(Plane(origin=(39, 6, 0), x_dir=(1, 0, 0), z_dir=(0, 0, 1))):
        with Locations((1.5, 4.5)):
            Rectangle(BOX128_W, BOX128_H)
    extrude(amount=BOX128_DEPTH)


with BuildPart() as cube051:
    # Box129 → Box129 (new body)
    with BuildSketch(Plane(origin=(39, 6, 15), x_dir=(1, 0, 0), z_dir=(0, 0, 1))):
        with Locations((1.5, 4.5)):
            Rectangle(BOX129_W, BOX129_H)
    extrude(amount=BOX129_DEPTH)


with BuildPart() as cube052:
    # Box130 → Box130 (new body)
    with BuildSketch(Plane(origin=(39, 60, 15), x_dir=(1, 0, 0), z_dir=(0, 0, 1))):
        with Locations((1.5, 4.5)):
            Rectangle(BOX130_W, BOX130_H)
    extrude(amount=BOX130_DEPTH)


with BuildPart() as turretpitchholdersideplate001:
    # Box131 → Box131 (new body)
    with BuildSketch(Plane(origin=(39, 0, -3), x_dir=(1, 0, 0), z_dir=(0, 0, 1))):
        with Locations((1.5, 37.5)):
            Rectangle(BOX131_W, BOX131_H)
    extrude(amount=BOX131_DEPTH)

    # Cut060: cut Cube052
    add(cube052.part, mode=Mode.SUBTRACT)

    # Cut061: cut Cube051
    add(cube051.part, mode=Mode.SUBTRACT)

    # Cut062: cut Cube050
    add(cube050.part, mode=Mode.SUBTRACT)

    # Cut063: cut Cube049
    add(cube049.part, mode=Mode.SUBTRACT)


with BuildPart() as turretpitchholdersideplate001_1:
    # Cut063 placement: moved
    add(turretpitchholdersideplate001.part.moved(Location((-9, 0, 0))))

    # Cut064: cut Cube049
    add(cube049.part, mode=Mode.SUBTRACT)


with BuildPart() as turretpitchholdersideplate001_2:
    # Cut064 placement: moved
    add(turretpitchholdersideplate001_1.part.moved(Location((-33, 0, 0))))


with BuildPart() as cube067:
    # Box145 → Box145 (new body)
    with BuildSketch(Plane(origin=(10.5, 75, 0), x_dir=(1, 0, 0), z_dir=(0, 0, 1))):
        with Locations((4.5, 1.5)):
            Rectangle(BOX145_W, BOX145_H)
    extrude(amount=BOX145_DEPTH)


with BuildPart() as cube062:
    # Box140 → Box140 (new body)
    with BuildSketch(Plane(origin=(-6, 9, 0), x_dir=(1, 0, 0), z_dir=(0, 0, 1))):
        with Locations((1.5, 1.5)):
            Rectangle(BOX140_W, BOX140_H)
    extrude(amount=BOX140_DEPTH)


with BuildPart() as cut069:
    # Box139 → Box139 (new body)
    with BuildSketch(Plane(origin=(-9, 6, 0), x_dir=(1, 0, 0), z_dir=(0, 0, 1))):
        with Locations((4.5, 4.5)):
            Rectangle(BOX139_W, BOX139_H)
    extrude(amount=BOX139_DEPTH)

    # Cut069: cut Cube062
    add(cube062.part, mode=Mode.SUBTRACT)


with BuildPart() as cut069_1:
    # Cut069 placement: moved
    add(cut069.part.moved(Location((24, -15, 0))))


with BuildPart() as cube064:
    # Box142 → Box142 (new body)
    with BuildSketch(Plane(origin=(-6, 9, 0), x_dir=(1, 0, 0), z_dir=(0, 0, 1))):
        with Locations((1.5, 1.5)):
            Rectangle(BOX142_W, BOX142_H)
    extrude(amount=BOX142_DEPTH)


with BuildPart() as cut070:
    # Box141 → Box141 (new body)
    with BuildSketch(Plane(origin=(-9, 6, 0), x_dir=(1, 0, 0), z_dir=(0, 0, 1))):
        with Locations((4.5, 4.5)):
            Rectangle(BOX141_W, BOX141_H)
    extrude(amount=BOX141_DEPTH)

    # Cut070: cut Cube064
    add(cube064.part, mode=Mode.SUBTRACT)


with BuildPart() as cut070_1:
    # Cut070 placement: moved
    add(cut070.part.moved(Location((39, 54, 0))))


with BuildPart() as cube066:
    # Box144 → Box144 (new body)
    with BuildSketch(Plane(origin=(-6, 9, 0), x_dir=(1, 0, 0), z_dir=(0, 0, 1))):
        with Locations((1.5, 1.5)):
            Rectangle(BOX144_W, BOX144_H)
    extrude(amount=BOX144_DEPTH)


with BuildPart() as cut071:
    # Box143 → Box143 (new body)
    with BuildSketch(Plane(origin=(-9, 6, 0), x_dir=(1, 0, 0), z_dir=(0, 0, 1))):
        with Locations((4.5, 4.5)):
            Rectangle(BOX143_W, BOX143_H)
    extrude(amount=BOX143_DEPTH)

    # Cut071: cut Cube066
    add(cube066.part, mode=Mode.SUBTRACT)


with BuildPart() as cut071_1:
    # Cut071 placement: moved
    add(cut071.part.moved(Location((0, 54, 0))))


with BuildPart() as cube058:
    # Box136 → Box136 (new body)
    with BuildSketch(Plane(origin=(-6, 9, 0), x_dir=(1, 0, 0), z_dir=(0, 0, 1))):
        with Locations((1.5, 1.5)):
            Rectangle(BOX136_W, BOX136_H)
    extrude(amount=BOX136_DEPTH)


with BuildPart() as cut066:
    # Box135 → Box135 (new body)
    with BuildSketch(Plane(origin=(-9, 6, 0), x_dir=(1, 0, 0), z_dir=(0, 0, 1))):
        with Locations((4.5, 4.5)):
            Rectangle(BOX135_W, BOX135_H)
    extrude(amount=BOX135_DEPTH)

    # Cut066: cut Cube058
    add(cube058.part, mode=Mode.SUBTRACT)


with BuildPart() as cut066_1:
    # Cut066 placement: moved
    add(cut066.part.moved(Location((39, 0, 0))))


with BuildPart() as cube059:
    # Box137 → Box137 (new body)
    with BuildSketch(Plane(origin=(10.5, 30, 0), x_dir=(1, 0, 0), z_dir=(0, 0, 1))):
        with Locations((4.5, 1.5)):
            Rectangle(BOX137_W, BOX137_H)
    extrude(amount=BOX137_DEPTH)


with BuildPart() as cut067:
    # Box132 → Box132 (new body)
    with BuildSketch(Plane.XY):
        with Locations((15, 37.5)):
            Rectangle(BOX132_W, BOX132_H)
    extrude(amount=BOX132_DEPTH)

    # Cut067: cut Cube059
    add(cube059.part, mode=Mode.SUBTRACT)


with BuildPart() as cube056:
    # Box134 → Box134 (new body)
    with BuildSketch(Plane(origin=(-6, 9, 0), x_dir=(1, 0, 0), z_dir=(0, 0, 1))):
        with Locations((1.5, 1.5)):
            Rectangle(BOX134_W, BOX134_H)
    extrude(amount=BOX134_DEPTH)


with BuildPart() as fusion032:
    # Box133 → Box133 (new body)
    with BuildSketch(Plane(origin=(-9, 6, 0), x_dir=(1, 0, 0), z_dir=(0, 0, 1))):
        with Locations((4.5, 4.5)):
            Rectangle(BOX133_W, BOX133_H)
    extrude(amount=BOX133_DEPTH)

    # Cut065: cut Cube056
    add(cube056.part, mode=Mode.SUBTRACT)

    # Fusion032: union Cut066, Cut067
    add(cut066_1.part)
    add(cut067.part)


with BuildPart() as rotationhoie001:
    # Cylinder028 → Cylinder028 (new body)
    with BuildSketch(Plane(origin=(15, 40.5, 0), x_dir=(1, 0, 0), z_dir=(0, 0, 1))):
        Circle(CYLINDER028_R)
    extrude(amount=CYLINDER028_DEPTH)


with BuildPart() as turretpitchholderside001:
    # Box138 → Box138 (new body)
    with BuildSketch(Plane(origin=(10.5, 36, 0), x_dir=(1, 0, 0), z_dir=(0, 0, 1))):
        with Locations((4.5, 4.5)):
            Rectangle(BOX138_W, BOX138_H)
    extrude(amount=BOX138_DEPTH)

    # Cut068: cut RotationHoie001
    add(rotationhoie001.part, mode=Mode.SUBTRACT)


with BuildPart() as turretpitchholderside001_1:
    # Cut068 placement: moved
    add(turretpitchholderside001.part.moved(Location((0, 42, 0))))

    # Fusion033: union Cut069, Cut070, Cut071, Fusion032
    add(cut069_1.part)
    add(cut070_1.part)
    add(cut071_1.part)
    add(fusion032.part)

    # Fusion034: union Cube067
    add(cube067.part)


with BuildPart() as turretpitchholderside001_2:
    # Fusion034 placement: moved
    add(turretpitchholderside001_1.part.moved(Location((0, 0, 15))))


solid = Compound([turretpitchholderdistant_1.part, turretpitchholdertopplate_1.part, turretpitchholderside_1.part, turretpitchholdersideplate_1.part, turretpitchholdersideplate001_2.part, turretpitchholderside001_2.part])
